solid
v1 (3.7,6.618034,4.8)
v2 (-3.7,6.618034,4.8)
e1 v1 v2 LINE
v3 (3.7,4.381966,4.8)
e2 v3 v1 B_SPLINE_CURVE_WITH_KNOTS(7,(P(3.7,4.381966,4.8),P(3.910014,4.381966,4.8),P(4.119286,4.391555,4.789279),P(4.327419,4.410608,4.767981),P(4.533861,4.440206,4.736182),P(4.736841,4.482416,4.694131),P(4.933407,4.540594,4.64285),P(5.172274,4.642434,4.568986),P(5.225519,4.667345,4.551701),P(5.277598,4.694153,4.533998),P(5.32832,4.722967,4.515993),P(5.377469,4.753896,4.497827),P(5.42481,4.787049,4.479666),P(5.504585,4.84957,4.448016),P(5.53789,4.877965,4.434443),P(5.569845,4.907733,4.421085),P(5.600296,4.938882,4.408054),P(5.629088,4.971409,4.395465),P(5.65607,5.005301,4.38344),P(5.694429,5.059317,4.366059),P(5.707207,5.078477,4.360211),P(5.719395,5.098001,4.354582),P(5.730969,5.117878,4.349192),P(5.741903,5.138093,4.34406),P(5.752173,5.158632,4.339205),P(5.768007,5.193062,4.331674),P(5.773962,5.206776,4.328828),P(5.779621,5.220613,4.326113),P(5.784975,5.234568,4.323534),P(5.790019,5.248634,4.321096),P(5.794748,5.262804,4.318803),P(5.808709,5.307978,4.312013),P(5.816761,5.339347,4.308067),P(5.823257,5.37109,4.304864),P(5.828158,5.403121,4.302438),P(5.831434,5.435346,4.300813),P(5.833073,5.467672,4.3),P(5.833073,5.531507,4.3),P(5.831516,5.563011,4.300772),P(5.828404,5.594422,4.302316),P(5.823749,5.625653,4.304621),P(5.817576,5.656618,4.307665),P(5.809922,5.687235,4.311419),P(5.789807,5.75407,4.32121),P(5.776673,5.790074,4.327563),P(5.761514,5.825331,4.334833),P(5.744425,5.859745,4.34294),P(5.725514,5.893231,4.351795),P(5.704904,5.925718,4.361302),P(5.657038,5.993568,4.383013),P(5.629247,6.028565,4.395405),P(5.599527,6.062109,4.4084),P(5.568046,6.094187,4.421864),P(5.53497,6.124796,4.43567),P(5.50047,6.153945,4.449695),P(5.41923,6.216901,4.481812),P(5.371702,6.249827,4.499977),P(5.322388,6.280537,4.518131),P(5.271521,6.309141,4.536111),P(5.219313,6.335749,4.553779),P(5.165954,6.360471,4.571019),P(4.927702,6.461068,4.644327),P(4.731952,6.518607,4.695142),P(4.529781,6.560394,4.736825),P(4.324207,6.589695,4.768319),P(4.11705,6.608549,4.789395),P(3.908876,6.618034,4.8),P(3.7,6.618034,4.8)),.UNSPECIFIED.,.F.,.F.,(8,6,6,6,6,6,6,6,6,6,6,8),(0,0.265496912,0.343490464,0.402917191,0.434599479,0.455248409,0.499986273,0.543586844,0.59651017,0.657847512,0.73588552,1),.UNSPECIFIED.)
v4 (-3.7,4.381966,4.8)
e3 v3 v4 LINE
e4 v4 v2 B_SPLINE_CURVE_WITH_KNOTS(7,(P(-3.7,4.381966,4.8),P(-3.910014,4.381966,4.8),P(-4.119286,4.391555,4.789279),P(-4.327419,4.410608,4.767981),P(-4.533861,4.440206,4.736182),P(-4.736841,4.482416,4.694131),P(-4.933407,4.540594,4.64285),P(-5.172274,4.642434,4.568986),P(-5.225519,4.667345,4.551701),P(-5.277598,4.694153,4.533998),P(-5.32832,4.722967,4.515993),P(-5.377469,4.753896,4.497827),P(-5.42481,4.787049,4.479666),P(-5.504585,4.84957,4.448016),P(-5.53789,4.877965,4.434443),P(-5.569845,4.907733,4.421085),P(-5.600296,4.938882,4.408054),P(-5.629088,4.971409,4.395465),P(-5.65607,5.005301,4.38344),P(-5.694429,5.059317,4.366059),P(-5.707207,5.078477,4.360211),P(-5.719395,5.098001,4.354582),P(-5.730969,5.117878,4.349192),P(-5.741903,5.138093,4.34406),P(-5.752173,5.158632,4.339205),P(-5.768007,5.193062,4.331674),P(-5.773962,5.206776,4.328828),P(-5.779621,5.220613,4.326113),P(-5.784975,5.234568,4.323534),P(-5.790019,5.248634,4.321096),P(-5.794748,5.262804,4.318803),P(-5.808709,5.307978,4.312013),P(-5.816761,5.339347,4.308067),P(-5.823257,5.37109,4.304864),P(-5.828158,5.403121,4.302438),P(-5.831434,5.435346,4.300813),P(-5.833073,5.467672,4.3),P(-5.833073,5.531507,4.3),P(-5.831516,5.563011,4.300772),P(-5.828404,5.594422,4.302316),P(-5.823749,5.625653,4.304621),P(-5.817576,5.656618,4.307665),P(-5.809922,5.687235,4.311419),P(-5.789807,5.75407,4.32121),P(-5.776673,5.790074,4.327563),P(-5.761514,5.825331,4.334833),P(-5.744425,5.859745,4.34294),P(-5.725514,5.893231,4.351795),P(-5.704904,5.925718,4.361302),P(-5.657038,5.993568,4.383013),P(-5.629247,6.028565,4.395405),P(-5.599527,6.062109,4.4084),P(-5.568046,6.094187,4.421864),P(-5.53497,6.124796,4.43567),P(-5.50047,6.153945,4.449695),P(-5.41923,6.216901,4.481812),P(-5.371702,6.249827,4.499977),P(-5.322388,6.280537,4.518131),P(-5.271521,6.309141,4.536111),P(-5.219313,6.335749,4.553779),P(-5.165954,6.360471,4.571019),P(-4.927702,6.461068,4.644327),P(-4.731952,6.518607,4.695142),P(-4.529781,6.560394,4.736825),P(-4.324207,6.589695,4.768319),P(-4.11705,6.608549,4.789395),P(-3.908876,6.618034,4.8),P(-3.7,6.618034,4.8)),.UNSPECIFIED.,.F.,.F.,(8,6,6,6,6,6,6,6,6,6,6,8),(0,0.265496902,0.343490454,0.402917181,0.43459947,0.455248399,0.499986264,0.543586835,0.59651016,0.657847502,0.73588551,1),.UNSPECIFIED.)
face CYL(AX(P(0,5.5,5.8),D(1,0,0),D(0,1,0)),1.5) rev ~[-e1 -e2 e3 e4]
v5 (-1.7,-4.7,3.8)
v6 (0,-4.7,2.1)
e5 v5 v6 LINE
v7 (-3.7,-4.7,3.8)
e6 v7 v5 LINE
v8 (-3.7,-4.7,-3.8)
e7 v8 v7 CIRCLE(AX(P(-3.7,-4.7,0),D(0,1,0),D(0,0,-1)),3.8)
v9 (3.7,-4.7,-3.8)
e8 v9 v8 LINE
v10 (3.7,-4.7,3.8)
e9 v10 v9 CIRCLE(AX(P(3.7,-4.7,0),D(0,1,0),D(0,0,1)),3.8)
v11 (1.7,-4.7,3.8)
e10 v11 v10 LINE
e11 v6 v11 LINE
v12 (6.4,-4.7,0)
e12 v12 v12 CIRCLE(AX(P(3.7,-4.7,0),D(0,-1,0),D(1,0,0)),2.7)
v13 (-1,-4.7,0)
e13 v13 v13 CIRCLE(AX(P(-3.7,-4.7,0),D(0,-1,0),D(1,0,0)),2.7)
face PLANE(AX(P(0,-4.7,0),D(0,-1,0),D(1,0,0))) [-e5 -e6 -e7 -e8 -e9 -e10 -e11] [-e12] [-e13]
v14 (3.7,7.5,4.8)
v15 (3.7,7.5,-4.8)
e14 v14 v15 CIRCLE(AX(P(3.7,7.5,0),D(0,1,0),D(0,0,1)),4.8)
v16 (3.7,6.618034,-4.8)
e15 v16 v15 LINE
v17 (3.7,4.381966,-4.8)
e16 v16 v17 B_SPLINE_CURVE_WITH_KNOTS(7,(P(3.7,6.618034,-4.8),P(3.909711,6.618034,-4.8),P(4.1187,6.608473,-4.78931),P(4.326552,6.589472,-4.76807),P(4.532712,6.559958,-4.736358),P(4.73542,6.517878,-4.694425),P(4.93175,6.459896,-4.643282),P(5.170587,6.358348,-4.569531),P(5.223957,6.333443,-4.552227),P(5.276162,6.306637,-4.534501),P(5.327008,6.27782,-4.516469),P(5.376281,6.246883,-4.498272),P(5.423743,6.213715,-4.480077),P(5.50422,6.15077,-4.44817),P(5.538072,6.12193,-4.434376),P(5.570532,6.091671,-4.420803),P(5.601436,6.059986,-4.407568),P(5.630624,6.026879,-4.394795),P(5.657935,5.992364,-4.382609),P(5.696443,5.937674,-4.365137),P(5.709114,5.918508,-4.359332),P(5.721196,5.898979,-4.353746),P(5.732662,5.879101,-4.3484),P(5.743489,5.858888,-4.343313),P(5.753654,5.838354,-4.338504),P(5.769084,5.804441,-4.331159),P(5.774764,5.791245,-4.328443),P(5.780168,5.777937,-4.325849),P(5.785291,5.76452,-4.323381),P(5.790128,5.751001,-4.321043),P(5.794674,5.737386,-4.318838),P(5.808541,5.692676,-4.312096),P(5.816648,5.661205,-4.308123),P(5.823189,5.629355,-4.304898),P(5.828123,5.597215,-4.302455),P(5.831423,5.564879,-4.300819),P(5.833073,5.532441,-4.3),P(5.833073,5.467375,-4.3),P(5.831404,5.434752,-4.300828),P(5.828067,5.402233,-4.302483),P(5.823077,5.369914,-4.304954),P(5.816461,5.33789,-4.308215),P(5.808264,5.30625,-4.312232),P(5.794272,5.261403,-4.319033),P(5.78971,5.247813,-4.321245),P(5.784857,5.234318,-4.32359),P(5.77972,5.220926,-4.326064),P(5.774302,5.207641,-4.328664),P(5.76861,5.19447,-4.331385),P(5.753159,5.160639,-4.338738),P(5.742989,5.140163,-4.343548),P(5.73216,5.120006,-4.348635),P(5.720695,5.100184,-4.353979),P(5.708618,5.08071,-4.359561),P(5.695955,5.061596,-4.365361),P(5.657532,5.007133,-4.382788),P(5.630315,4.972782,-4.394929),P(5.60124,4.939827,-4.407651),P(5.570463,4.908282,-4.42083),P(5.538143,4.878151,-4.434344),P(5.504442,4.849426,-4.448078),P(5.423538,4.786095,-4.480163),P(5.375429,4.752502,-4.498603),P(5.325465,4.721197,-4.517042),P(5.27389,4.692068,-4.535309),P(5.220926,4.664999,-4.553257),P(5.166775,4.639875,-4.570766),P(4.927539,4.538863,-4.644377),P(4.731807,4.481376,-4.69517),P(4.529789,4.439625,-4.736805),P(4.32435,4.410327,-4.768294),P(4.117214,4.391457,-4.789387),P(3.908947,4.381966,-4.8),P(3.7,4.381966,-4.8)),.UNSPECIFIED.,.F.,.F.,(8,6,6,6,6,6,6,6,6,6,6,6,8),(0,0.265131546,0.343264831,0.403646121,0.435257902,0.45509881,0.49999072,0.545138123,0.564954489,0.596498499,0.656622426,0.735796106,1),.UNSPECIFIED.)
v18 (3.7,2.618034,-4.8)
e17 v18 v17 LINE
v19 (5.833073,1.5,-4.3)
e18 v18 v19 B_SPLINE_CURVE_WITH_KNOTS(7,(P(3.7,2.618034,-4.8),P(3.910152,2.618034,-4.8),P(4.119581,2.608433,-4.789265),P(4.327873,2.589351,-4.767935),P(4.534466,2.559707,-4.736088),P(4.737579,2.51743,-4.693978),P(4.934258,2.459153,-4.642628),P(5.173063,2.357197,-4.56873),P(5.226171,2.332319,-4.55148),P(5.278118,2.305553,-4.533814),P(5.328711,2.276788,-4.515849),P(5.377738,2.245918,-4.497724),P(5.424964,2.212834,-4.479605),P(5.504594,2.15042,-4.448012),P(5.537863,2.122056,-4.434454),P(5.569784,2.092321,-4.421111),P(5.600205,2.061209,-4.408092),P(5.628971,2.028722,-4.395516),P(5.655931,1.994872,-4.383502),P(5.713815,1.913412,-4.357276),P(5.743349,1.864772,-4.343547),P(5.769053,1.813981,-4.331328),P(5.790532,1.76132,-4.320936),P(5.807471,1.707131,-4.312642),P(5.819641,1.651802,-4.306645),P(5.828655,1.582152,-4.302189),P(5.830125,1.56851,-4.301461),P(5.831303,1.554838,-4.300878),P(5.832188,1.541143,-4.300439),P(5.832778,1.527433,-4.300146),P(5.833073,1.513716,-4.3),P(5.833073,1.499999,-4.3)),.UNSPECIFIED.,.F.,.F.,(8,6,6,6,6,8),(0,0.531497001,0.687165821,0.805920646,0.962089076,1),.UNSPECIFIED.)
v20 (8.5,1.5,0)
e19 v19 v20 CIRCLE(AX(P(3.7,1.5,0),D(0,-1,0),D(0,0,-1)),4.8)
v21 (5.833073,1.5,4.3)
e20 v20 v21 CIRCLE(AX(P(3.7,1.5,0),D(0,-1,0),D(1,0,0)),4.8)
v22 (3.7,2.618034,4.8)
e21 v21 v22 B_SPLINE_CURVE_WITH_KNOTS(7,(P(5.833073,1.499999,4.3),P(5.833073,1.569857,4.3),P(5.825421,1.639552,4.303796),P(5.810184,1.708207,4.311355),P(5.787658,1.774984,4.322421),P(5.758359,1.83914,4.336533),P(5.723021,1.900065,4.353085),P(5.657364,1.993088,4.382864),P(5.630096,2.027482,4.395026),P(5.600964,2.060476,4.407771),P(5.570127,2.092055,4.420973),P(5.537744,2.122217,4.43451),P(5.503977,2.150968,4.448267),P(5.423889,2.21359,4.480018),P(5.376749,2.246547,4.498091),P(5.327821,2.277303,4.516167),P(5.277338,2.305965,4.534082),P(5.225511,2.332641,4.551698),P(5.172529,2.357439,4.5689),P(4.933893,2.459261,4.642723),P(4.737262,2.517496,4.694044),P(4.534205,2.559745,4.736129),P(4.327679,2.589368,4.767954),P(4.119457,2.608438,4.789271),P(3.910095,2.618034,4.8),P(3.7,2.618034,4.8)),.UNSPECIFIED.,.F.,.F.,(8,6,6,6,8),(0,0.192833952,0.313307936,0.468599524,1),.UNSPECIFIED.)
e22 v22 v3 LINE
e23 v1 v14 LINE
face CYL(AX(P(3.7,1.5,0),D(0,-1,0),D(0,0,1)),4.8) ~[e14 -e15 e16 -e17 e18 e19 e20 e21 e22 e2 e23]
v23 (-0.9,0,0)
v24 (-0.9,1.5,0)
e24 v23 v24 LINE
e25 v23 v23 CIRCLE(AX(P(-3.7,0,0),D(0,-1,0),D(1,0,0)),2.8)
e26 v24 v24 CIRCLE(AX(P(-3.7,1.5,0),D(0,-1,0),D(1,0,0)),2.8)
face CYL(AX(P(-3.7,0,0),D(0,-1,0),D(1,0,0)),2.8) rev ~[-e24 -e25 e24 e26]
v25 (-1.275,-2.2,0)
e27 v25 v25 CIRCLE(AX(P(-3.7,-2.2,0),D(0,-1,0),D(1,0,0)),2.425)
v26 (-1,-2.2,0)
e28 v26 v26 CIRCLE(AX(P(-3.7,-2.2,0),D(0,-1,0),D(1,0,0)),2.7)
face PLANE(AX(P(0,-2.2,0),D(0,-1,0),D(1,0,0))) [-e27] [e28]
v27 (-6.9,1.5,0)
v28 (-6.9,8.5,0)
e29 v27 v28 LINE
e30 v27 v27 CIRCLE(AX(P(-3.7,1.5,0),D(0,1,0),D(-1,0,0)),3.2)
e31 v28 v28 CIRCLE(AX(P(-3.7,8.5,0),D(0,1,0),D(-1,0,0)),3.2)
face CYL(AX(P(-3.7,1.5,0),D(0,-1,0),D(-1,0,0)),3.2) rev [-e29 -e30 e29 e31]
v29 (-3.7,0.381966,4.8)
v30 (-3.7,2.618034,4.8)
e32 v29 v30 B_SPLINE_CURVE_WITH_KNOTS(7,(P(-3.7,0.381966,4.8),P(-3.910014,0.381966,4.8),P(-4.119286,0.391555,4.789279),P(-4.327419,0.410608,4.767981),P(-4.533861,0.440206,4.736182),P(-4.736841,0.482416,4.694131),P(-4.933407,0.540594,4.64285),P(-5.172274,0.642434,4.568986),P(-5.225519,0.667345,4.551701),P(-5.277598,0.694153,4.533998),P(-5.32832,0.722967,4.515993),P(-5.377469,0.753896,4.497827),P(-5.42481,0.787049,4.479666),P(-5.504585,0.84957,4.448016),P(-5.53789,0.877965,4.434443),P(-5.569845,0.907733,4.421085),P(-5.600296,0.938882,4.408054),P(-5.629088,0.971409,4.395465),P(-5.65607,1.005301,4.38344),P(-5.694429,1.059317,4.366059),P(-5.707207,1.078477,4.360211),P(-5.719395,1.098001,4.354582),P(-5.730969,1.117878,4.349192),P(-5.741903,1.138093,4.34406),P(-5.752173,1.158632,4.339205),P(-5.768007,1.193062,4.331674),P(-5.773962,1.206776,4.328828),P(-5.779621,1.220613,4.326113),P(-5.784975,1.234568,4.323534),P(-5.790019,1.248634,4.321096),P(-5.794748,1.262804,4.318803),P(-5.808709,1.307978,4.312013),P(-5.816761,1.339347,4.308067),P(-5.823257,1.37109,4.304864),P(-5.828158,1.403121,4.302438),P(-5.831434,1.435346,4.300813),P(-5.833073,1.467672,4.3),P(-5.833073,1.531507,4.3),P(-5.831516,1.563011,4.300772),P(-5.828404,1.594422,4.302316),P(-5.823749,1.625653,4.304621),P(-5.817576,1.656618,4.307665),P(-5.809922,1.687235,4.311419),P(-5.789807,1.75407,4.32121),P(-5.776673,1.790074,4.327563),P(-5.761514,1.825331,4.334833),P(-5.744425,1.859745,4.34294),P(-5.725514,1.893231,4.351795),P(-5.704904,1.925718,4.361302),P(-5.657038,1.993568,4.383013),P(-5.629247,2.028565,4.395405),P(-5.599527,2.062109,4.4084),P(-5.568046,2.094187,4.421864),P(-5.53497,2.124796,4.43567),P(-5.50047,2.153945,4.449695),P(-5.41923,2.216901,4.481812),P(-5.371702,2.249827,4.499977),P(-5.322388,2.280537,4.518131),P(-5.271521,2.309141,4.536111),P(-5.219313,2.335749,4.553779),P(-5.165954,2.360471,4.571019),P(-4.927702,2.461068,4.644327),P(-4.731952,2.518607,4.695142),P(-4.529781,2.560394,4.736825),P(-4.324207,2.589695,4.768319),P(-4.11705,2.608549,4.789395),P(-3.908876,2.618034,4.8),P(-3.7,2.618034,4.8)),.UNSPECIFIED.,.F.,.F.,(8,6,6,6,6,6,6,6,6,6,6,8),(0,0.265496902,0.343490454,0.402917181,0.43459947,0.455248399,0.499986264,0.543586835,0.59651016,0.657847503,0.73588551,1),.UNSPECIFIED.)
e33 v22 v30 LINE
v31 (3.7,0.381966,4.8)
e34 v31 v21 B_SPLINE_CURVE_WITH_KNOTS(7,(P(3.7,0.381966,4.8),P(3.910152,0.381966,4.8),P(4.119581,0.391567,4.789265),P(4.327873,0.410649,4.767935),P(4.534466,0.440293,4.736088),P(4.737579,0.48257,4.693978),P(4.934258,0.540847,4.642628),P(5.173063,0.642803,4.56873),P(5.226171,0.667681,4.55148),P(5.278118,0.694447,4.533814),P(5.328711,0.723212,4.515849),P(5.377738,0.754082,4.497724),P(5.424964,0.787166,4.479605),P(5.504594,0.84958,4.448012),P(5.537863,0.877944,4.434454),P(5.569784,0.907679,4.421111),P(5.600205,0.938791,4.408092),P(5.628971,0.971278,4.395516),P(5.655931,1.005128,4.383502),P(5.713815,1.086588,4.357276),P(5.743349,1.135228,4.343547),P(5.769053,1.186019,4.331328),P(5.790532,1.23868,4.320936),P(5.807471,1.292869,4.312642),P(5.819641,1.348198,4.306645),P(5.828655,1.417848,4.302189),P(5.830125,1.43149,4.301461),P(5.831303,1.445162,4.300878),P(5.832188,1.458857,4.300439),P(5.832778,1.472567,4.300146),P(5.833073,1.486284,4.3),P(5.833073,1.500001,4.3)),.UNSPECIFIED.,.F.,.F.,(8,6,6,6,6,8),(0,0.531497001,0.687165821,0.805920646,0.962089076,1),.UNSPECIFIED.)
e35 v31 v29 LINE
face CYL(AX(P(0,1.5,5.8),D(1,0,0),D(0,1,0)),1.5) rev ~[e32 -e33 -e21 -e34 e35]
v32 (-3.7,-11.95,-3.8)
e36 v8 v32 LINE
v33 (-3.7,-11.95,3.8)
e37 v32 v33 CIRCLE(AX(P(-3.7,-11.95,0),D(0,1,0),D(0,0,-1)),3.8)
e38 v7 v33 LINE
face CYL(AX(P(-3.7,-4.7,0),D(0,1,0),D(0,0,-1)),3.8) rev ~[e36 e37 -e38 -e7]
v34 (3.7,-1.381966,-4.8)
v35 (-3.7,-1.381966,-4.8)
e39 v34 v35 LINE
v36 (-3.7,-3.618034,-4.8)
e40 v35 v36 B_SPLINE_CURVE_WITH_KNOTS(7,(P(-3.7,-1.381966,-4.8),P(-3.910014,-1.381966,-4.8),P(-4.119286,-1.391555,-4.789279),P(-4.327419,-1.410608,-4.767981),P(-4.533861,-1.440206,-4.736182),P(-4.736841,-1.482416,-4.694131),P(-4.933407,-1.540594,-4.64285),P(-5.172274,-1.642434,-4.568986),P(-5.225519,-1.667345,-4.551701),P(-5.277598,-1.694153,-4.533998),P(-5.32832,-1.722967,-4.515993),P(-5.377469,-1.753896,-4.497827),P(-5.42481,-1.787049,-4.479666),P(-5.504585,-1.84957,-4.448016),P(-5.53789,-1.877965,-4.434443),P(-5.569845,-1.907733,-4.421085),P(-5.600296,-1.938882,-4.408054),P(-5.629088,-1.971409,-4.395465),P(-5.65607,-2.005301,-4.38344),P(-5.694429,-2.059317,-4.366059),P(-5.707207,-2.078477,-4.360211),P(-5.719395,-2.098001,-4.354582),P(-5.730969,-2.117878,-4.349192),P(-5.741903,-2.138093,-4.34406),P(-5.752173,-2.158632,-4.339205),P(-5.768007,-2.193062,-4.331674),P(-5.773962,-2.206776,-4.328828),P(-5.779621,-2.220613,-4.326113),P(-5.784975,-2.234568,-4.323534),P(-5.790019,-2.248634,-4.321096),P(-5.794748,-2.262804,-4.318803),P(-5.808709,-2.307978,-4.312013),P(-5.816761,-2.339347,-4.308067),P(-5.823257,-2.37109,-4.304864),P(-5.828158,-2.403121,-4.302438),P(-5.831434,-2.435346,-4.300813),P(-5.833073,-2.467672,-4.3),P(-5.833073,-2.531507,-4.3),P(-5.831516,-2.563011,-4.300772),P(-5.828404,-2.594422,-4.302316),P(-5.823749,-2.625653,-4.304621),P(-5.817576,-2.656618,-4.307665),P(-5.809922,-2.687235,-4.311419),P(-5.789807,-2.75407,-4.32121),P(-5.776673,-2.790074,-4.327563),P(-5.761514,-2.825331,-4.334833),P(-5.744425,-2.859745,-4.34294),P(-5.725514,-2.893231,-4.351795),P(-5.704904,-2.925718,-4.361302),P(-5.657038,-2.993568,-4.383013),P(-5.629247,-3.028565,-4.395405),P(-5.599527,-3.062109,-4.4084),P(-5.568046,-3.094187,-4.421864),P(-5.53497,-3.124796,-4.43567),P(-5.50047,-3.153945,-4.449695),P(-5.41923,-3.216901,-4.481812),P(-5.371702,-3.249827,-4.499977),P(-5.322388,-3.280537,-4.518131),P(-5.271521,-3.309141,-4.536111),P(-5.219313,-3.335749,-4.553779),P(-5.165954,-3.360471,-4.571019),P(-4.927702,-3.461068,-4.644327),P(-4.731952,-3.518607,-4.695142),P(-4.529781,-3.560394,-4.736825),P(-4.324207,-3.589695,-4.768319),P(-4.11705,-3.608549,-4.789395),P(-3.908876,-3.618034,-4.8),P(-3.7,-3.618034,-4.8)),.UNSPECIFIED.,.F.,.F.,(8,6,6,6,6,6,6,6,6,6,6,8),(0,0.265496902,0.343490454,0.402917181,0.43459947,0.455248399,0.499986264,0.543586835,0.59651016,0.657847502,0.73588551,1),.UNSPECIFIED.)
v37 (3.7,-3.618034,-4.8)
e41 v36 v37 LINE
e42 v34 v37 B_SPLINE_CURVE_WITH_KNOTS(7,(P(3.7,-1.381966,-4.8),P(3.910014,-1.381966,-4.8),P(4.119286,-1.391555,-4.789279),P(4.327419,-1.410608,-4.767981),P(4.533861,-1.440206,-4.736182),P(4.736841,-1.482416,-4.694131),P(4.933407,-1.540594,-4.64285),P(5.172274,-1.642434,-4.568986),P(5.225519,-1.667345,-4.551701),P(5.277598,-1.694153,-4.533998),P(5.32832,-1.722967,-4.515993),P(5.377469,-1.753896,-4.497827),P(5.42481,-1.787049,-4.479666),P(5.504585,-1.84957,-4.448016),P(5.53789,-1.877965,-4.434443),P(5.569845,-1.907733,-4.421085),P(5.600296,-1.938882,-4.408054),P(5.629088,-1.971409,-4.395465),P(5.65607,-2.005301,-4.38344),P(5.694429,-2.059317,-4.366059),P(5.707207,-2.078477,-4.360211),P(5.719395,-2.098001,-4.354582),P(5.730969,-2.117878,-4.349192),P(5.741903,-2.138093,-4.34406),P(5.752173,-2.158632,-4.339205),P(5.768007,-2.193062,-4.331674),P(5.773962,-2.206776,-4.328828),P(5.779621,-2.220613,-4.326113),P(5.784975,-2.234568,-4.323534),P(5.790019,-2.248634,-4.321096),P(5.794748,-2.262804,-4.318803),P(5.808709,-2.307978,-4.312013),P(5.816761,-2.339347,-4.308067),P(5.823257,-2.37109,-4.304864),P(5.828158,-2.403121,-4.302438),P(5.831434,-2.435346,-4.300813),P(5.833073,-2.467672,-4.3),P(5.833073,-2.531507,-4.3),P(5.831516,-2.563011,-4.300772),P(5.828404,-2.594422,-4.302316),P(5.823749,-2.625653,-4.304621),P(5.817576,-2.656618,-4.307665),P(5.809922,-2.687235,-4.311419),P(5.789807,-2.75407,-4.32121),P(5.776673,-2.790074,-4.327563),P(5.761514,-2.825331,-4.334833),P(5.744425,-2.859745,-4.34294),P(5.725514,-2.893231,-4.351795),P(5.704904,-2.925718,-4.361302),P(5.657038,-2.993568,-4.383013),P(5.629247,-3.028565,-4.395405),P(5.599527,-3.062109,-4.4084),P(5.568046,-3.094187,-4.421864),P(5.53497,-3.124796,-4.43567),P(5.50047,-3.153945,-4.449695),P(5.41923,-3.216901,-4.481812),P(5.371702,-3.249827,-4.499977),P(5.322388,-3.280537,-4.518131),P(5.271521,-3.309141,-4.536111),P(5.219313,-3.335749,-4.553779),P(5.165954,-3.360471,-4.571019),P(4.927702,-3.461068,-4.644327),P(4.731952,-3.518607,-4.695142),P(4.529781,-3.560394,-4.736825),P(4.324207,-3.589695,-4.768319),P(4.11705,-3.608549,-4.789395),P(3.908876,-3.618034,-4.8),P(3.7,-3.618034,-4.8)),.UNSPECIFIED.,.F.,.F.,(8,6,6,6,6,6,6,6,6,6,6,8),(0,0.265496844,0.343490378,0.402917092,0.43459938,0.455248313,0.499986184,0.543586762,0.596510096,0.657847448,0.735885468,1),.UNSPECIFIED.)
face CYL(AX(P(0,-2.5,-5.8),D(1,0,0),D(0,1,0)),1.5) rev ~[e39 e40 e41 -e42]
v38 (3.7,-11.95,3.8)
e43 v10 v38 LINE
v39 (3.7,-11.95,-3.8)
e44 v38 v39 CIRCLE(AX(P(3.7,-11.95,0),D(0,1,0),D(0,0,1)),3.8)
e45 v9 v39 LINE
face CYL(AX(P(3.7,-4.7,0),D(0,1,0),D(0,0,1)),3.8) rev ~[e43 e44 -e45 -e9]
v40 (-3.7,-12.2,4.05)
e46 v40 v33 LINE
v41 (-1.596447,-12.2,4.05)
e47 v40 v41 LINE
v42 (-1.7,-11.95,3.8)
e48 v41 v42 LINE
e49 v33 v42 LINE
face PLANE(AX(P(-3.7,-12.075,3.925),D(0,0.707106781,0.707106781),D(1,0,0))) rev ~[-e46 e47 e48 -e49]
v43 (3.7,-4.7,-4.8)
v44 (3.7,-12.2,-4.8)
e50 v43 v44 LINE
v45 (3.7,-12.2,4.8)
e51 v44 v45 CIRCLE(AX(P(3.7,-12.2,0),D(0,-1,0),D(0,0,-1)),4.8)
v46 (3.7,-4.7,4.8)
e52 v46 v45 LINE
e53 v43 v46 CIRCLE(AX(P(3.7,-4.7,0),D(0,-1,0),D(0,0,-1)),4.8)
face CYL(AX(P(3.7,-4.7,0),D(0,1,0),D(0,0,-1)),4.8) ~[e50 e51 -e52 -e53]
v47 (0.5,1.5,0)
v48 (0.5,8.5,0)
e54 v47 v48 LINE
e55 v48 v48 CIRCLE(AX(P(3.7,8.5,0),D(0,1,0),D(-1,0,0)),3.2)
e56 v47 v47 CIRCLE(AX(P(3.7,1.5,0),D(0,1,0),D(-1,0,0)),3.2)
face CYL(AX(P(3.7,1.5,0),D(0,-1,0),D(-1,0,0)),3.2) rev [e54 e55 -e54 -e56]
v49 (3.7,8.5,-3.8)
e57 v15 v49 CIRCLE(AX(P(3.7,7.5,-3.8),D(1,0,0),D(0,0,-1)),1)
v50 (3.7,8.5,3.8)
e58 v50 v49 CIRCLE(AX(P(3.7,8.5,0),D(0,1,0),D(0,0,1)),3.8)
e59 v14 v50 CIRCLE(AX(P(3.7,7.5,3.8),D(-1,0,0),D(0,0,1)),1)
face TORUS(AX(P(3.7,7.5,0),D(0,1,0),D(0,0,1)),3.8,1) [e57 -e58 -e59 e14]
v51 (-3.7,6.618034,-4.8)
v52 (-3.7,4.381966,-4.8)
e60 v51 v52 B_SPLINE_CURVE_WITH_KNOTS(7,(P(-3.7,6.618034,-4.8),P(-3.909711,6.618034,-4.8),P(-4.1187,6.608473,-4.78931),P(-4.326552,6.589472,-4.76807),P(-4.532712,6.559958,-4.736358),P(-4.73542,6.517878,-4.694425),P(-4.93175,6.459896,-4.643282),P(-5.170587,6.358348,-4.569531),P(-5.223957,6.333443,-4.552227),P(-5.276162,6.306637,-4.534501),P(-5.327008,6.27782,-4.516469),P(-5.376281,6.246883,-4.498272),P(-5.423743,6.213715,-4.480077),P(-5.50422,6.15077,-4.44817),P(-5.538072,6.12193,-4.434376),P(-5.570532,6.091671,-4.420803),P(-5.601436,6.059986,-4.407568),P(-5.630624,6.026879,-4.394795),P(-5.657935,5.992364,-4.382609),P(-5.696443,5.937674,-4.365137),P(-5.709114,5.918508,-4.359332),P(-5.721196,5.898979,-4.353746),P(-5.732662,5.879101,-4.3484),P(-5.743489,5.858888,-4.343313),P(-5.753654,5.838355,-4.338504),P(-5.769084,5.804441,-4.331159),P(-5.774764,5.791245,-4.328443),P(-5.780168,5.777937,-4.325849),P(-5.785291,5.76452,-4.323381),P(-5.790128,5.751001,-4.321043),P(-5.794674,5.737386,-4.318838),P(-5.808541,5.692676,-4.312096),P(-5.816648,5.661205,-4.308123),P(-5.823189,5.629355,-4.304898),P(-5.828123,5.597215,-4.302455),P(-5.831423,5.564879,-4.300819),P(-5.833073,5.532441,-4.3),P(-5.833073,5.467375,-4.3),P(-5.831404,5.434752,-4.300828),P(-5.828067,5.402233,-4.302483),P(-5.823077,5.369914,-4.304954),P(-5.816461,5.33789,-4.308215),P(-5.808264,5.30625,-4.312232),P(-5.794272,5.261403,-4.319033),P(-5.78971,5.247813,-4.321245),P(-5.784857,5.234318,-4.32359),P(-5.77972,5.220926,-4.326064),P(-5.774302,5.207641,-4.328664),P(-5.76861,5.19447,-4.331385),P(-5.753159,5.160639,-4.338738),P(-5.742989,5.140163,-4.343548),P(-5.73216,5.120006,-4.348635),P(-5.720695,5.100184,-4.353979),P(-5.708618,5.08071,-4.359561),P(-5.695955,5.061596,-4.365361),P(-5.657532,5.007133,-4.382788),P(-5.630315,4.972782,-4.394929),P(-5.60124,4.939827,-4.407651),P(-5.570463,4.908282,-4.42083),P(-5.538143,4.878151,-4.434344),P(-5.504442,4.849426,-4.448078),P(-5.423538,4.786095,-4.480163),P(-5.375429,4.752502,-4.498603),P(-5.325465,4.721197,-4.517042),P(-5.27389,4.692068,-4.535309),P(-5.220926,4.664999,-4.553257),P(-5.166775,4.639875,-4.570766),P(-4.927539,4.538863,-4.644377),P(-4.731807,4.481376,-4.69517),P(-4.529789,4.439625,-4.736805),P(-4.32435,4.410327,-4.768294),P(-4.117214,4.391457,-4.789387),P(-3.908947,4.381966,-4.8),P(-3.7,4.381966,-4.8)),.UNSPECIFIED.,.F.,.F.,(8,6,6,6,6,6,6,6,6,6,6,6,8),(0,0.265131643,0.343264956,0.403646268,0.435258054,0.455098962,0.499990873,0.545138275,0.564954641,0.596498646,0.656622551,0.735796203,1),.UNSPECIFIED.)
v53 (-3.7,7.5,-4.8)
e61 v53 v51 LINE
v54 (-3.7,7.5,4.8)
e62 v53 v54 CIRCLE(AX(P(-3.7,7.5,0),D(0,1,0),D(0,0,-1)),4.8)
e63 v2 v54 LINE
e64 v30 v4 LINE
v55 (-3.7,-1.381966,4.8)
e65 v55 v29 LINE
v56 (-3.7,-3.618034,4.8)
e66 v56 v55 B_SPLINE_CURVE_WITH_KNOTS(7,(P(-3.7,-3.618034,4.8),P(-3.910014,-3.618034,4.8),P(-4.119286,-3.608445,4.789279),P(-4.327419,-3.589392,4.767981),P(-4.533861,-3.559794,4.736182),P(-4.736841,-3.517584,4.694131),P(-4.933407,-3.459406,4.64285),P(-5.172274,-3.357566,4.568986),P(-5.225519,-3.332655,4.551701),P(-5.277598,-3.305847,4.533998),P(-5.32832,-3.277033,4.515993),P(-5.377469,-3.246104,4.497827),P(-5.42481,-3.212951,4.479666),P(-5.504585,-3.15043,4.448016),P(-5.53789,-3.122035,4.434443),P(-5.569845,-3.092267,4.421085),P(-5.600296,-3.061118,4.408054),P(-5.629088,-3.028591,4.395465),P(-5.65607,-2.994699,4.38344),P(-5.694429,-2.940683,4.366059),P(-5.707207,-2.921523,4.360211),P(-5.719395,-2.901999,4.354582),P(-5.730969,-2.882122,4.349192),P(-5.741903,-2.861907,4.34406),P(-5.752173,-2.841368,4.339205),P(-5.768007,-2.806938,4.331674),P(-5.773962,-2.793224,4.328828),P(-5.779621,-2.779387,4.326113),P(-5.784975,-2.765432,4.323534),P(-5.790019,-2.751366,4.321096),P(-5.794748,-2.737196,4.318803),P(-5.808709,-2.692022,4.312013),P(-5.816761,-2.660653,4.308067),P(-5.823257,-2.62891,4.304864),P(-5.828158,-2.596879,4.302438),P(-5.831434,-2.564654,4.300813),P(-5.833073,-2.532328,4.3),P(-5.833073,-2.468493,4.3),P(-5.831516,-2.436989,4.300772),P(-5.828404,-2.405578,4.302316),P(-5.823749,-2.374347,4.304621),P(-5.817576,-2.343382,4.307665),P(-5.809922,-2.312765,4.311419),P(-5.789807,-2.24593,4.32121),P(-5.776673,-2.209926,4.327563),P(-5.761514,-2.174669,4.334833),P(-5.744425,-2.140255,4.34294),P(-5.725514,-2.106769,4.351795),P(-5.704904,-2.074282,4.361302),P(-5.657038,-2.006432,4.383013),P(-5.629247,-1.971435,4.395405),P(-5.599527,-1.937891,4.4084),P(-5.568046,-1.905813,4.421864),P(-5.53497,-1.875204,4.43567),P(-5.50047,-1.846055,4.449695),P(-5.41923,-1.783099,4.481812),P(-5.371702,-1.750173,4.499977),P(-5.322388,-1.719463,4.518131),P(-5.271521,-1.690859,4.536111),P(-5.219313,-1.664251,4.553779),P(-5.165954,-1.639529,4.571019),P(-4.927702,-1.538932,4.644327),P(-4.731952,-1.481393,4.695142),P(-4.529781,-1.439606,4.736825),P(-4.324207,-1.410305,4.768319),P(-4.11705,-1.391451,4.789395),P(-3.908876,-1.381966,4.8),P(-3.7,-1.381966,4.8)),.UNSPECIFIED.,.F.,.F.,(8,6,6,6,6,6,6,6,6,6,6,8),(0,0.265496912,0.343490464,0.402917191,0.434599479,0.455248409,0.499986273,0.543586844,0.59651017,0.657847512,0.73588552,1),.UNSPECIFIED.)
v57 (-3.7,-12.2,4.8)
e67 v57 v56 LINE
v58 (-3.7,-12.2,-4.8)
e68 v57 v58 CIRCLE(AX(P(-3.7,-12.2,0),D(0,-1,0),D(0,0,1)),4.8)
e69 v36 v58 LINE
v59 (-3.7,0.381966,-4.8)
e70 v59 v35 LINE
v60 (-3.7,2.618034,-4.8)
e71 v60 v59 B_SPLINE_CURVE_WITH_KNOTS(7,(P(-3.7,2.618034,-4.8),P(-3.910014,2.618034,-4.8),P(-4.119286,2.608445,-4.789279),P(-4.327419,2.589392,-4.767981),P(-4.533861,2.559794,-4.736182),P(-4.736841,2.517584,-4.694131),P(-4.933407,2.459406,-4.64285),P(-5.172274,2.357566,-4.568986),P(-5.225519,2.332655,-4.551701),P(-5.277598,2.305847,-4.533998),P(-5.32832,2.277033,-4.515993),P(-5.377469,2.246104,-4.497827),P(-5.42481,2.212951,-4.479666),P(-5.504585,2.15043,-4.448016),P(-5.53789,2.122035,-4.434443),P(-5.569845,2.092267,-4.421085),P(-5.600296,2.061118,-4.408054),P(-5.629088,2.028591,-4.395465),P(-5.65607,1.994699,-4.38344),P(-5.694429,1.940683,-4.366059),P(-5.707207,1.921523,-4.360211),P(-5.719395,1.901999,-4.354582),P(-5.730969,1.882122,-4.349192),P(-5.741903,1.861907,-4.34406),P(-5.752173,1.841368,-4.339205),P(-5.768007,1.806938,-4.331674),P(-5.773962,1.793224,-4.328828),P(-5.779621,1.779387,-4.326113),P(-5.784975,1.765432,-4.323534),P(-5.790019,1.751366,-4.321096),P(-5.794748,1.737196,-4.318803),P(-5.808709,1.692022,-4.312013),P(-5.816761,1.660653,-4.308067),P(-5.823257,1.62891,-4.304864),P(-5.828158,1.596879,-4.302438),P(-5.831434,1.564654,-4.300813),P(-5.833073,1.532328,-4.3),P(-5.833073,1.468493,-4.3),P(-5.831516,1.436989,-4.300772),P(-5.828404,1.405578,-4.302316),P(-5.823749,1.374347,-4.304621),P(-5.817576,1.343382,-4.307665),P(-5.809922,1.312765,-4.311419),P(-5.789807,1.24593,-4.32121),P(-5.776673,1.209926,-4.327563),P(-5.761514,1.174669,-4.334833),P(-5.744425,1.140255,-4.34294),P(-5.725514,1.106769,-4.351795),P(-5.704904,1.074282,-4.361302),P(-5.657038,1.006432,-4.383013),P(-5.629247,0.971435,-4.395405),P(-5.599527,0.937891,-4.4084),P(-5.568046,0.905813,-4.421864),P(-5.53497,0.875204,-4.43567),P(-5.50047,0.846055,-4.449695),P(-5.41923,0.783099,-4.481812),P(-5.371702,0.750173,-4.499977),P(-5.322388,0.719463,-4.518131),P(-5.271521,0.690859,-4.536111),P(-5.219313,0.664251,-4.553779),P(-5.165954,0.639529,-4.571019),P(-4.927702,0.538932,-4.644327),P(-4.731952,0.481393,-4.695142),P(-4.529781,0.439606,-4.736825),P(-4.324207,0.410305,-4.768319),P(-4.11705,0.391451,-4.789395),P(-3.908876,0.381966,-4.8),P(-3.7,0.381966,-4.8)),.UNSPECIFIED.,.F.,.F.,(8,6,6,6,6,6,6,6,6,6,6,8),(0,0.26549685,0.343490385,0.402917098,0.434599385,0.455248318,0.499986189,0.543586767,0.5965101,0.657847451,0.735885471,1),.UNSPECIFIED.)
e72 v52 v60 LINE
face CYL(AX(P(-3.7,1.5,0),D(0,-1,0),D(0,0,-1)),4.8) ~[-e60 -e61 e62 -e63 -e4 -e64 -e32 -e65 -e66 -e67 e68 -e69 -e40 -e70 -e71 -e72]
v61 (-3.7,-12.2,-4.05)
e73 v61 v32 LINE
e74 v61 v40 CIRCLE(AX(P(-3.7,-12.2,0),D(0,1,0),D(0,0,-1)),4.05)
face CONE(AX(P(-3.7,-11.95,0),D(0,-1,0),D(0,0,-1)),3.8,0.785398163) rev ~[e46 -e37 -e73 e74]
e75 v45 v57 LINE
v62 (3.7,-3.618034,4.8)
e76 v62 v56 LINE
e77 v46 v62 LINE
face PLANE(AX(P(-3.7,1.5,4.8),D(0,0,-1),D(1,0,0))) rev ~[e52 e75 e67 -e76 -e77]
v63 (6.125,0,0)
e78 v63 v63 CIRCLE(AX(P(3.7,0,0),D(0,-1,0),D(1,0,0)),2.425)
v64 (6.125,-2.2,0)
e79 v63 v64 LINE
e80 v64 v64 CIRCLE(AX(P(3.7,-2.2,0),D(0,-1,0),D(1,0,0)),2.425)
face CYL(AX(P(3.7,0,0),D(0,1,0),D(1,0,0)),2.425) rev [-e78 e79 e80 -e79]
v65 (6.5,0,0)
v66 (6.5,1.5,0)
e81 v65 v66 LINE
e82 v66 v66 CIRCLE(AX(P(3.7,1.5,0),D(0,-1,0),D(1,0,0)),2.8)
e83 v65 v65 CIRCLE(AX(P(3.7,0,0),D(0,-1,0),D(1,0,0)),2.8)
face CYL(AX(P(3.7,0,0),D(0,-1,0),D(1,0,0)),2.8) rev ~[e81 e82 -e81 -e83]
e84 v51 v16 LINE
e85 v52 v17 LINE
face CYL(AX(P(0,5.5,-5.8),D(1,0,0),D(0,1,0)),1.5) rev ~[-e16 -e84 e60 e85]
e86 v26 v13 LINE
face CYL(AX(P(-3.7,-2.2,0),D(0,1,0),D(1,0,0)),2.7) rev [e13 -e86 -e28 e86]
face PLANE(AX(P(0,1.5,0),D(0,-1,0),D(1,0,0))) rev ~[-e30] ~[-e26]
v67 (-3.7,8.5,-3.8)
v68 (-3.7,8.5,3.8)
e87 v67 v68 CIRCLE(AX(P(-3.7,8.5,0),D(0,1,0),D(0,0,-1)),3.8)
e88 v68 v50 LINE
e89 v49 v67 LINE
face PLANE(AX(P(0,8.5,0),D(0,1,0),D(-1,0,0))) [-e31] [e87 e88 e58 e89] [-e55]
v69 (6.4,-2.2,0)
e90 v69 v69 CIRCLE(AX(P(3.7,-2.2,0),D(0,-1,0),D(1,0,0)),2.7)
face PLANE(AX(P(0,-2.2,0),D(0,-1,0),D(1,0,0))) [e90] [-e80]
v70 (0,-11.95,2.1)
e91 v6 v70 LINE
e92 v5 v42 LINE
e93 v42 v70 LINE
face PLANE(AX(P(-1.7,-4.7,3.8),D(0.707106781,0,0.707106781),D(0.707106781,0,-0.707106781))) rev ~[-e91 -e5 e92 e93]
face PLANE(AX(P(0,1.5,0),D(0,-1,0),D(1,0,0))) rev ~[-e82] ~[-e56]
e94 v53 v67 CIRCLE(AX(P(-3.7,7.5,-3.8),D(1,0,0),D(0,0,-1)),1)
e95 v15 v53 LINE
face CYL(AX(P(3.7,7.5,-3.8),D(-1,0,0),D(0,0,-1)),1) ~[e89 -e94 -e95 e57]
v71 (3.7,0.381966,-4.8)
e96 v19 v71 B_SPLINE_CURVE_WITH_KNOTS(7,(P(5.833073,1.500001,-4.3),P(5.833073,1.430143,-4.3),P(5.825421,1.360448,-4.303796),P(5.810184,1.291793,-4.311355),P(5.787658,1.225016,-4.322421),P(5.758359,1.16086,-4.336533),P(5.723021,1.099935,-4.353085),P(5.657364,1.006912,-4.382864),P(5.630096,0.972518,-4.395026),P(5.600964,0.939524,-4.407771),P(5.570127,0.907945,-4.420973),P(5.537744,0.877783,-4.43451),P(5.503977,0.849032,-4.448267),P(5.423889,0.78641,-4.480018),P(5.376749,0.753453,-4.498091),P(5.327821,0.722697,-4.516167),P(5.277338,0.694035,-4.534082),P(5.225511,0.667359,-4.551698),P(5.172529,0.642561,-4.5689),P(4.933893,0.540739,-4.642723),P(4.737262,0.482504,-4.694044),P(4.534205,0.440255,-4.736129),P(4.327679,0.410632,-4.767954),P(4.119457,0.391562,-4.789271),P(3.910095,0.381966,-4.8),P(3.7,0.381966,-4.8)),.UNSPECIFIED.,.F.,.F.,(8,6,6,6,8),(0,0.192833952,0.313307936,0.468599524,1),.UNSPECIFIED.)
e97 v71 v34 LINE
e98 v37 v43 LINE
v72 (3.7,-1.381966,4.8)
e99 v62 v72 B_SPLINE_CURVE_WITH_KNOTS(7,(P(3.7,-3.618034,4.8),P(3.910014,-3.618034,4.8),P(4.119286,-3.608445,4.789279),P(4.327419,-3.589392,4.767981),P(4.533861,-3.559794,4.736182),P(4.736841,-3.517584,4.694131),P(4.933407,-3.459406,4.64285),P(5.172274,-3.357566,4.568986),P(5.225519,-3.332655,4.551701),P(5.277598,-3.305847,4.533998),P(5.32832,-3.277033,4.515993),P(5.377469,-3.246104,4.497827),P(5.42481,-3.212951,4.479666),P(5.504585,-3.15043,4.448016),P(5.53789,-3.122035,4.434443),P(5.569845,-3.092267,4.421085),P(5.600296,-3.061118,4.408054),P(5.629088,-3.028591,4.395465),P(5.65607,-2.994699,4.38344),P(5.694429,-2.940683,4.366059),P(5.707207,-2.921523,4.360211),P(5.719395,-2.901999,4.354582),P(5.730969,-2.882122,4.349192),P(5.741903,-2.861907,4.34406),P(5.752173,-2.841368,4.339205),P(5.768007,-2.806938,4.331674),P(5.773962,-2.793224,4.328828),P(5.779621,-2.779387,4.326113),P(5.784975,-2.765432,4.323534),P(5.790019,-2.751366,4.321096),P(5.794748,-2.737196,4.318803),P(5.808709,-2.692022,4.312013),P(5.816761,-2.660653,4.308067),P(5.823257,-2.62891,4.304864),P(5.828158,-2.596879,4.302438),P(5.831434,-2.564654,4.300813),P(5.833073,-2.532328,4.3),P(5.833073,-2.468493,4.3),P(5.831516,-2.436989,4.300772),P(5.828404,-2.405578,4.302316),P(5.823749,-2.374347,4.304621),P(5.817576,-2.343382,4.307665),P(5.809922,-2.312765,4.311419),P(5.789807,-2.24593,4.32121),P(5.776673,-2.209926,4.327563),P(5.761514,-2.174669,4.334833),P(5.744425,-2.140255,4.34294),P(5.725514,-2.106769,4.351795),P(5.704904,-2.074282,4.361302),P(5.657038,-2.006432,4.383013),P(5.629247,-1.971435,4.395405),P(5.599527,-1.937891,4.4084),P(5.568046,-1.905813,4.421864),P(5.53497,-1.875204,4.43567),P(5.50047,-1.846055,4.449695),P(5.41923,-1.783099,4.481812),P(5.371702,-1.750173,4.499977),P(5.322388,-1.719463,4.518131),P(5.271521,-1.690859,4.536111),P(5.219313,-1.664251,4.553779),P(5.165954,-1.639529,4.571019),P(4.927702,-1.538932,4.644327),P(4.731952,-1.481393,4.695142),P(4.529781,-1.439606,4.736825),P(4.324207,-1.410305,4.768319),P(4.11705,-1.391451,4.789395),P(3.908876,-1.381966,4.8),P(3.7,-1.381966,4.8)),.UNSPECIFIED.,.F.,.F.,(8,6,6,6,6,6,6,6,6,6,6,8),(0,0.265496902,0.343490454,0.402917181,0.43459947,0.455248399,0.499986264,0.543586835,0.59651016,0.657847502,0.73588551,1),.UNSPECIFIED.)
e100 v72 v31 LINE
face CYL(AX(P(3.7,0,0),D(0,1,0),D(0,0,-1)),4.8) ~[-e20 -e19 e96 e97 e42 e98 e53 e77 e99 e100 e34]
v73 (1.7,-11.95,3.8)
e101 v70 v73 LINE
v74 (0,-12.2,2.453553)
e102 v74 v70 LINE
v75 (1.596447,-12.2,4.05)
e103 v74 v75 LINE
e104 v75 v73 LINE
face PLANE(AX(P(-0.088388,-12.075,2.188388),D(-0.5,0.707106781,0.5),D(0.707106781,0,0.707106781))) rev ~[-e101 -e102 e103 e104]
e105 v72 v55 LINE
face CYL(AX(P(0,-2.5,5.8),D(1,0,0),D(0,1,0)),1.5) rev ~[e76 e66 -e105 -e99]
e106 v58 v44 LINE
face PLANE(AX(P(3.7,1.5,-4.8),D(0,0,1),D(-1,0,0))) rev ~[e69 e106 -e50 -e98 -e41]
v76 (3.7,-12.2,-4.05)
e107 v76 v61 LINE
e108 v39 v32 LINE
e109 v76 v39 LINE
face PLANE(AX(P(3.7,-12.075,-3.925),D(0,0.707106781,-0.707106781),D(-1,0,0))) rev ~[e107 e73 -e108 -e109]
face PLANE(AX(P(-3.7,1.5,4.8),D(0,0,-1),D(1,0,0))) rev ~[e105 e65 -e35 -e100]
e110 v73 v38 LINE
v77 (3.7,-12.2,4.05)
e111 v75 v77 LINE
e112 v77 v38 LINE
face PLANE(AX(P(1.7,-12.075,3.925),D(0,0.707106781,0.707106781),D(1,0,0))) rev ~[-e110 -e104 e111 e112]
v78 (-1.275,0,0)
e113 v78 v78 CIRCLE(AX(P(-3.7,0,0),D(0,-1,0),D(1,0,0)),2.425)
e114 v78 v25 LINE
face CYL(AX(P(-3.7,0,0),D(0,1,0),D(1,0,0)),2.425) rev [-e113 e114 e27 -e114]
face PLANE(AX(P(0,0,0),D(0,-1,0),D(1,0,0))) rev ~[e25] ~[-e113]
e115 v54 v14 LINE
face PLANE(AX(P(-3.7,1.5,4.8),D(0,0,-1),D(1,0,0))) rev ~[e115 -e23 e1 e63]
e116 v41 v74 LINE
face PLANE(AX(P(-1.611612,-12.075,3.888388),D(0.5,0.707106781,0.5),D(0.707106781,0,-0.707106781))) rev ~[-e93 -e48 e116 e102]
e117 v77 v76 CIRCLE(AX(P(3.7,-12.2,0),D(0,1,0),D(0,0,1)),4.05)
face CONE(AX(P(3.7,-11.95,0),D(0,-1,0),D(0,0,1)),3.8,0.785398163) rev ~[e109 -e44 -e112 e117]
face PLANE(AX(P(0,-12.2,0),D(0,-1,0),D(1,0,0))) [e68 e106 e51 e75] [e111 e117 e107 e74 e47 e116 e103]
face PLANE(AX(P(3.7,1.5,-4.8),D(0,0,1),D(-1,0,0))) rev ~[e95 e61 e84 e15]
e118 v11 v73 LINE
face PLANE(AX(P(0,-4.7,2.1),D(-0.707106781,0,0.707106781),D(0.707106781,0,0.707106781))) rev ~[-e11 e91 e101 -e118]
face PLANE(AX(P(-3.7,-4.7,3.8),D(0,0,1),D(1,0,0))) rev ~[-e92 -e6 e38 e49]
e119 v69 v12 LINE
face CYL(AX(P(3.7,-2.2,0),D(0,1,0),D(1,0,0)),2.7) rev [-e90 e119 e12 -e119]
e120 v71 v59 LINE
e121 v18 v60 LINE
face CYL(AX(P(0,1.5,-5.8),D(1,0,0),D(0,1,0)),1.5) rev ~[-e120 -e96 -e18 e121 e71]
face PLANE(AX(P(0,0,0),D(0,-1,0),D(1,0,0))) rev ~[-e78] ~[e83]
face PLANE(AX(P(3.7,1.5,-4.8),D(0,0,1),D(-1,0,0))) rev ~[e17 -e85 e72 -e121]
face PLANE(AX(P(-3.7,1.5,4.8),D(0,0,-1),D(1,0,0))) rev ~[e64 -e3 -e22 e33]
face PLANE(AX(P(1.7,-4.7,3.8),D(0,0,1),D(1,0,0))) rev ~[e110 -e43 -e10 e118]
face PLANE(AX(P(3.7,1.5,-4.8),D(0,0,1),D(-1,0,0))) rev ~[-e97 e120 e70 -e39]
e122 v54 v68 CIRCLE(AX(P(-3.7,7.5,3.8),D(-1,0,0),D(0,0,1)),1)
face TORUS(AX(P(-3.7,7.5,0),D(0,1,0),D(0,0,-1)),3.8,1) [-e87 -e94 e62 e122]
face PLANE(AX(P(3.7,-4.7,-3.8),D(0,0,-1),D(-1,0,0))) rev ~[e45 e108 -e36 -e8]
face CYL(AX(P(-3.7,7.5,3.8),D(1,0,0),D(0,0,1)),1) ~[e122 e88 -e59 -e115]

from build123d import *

# Parameters (mm, degrees)
F0_R      = 2.8
F1_DEPTH  = 1.5
F0_R_2    = 2.425
F2_DEPTH  = 2.2
F3_R      = 2.7
F4_DEPTH  = 2.5
F6_DEPTH  = 7.5
F7_R      = 3.2
F8_DEPTH  = 7
F9_R      = 1
F10_SIZE  = 0.25
F11_R     = 1.5
F12_DEPTH = 8.5


with BuildPart() as f1:
    # F0 (on Front) → F1 (new body)
    with BuildSketch(Plane.XZ):
        with BuildLine():
            Line((0, 4.8), (-3.7, 4.8))
            ThreePointArc((-3.7, 4.8), (-7.0941125497, 3.3941125497), (-8.5, 0))
            ThreePointArc((-8.5, 0), (-7.0941125497, -3.3941125497), (-3.7, -4.8))
            Line((-3.7, -4.8), (0, -4.8))
            Line((0, -4.8), (3.7, -4.8))
            ThreePointArc((3.7, -4.8), (7.0941125497, -3.3941125497), (8.5, 0))
            ThreePointArc((8.5, 0), (7.0941125497, 3.3941125497), (3.7, 4.8))
            Line((3.7, 4.8), (0, 4.8))
        make_face()
        with Locations((-3.7, 0)):
            Circle(F0_R, mode=Mode.SUBTRACT)
        with Locations((3.7, 0)):
            Circle(F0_R, mode=Mode.SUBTRACT)
    extrude(amount=-F1_DEPTH)

    # F0 (on Front) → F2 (join)
    with BuildSketch(Plane.XZ):
        with BuildLine():
            Line((0, 4.8), (-3.7, 4.8))
            ThreePointArc((-3.7, 4.8), (-7.0941125497, 3.3941125497), (-8.5, 0))
            ThreePointArc((-8.5, 0), (-7.0941125497, -3.3941125497), (-3.7, -4.8))
            Line((-3.7, -4.8), (0, -4.8))
            Line((0, -4.8), (3.7, -4.8))
            ThreePointArc((3.7, -4.8), (7.0941125497, -3.3941125497), (8.5, 0))
            ThreePointArc((8.5, 0), (7.0941125497, 3.3941125497), (3.7, 4.8))
            Line((3.7, 4.8), (0, 4.8))
        make_face()
        with Locations((-3.7, 0)):
            Circle(F0_R, mode=Mode.SUBTRACT)
        with Locations((3.7, 0)):
            Circle(F0_R, mode=Mode.SUBTRACT)
        with Locations((-3.7, 0)):
            Circle(F0_R)
        with Locations((-3.7, 0)):
            Circle(F0_R_2, mode=Mode.SUBTRACT)
        with Locations((3.7, 0)):
            Circle(F0_R)
        with Locations((3.7, 0)):
            Circle(F0_R_2, mode=Mode.SUBTRACT)
    extrude(amount=F2_DEPTH)

    # F3 (on face) → F4 (join)
    with BuildSketch(Plane.XZ.offset(2.2)):
        with BuildLine():
            ThreePointArc((3.7, -4.8), (8.5, 0), (3.7, 4.8))
            Line((3.7, 4.8), (-3.7, 4.8))
            ThreePointArc((-3.7, 4.8), (-8.5, 0), (-3.7, -4.8))
            Line((-3.7, -4.8), (3.7, -4.8))
        make_face()
        with Locations((-3.7, 0)):
            Circle(F3_R, mode=Mode.SUBTRACT)
        with Locations((3.7, 0)):
            Circle(F3_R, mode=Mode.SUBTRACT)
    extrude(amount=F4_DEPTH)

    # F5 (on face) → F6 (join)
    with BuildSketch(Plane.XZ.offset(4.7)):
        with BuildLine():
            ThreePointArc((-3.7, 4.8), (-8.5, 0), (-3.7, -4.8))
            Line((-3.7, -4.8), (3.7, -4.8))
            ThreePointArc((3.7, -4.8), (8.5, 0), (3.7, 4.8))
            Line((3.7, 4.8), (-3.7, 4.8))
        make_face()
        with BuildLine():
            Line((0, -3.8), (-3.7, -3.8))
            ThreePointArc((-3.7, -3.8), (-7.5, 0), (-3.7, 3.8))
            Line((-3.7, 3.8), (-1.7, 3.8))
            Line((-1.7, 3.8), (0, 2.1))
            Line((0, 2.1), (1.7, 3.8))
            Line((1.7, 3.8), (3.7, 3.8))
            ThreePointArc((3.7, 3.8), (7.5, 0), (3.7, -3.8))
            Line((3.7, -3.8), (0, -3.8))
        make_face(mode=Mode.SUBTRACT)
    extrude(amount=F6_DEPTH)

    # F7 (on face) → F8 (join)
    with BuildSketch(Plane(origin=(0, 1.5, 0), x_dir=(-1, 0, 0), z_dir=(0, 1, 0))):
        with BuildLine():
            ThreePointArc((3.7, -4.8), (8.5, 0), (3.7, 4.8))
            Line((3.7, 4.8), (-3.7, 4.8))
            ThreePointArc((-3.7, 4.8), (-8.5, 0), (-3.7, -4.8))
            Line((-3.7, -4.8), (3.7, -4.8))
        make_face()
        with Locations((-3.7, 0)):
            Circle(F7_R, mode=Mode.SUBTRACT)
        with Locations((3.7, 0)):
            Circle(F7_R, mode=Mode.SUBTRACT)
    extrude(amount=F8_DEPTH)

    # F9
    f9_edges = [f1.edges().sort_by_distance(p)[0] for p in [
        (0, 8.5, 4.8),
    ]]
    fillet(f9_edges, radius=F9_R)

    # F10
    f10_edges = [f1.edges().sort_by_distance(p)[0] for p in [
        (-7.5, -12.2, 0),
        (-2.7, -12.2, 3.8),
        (-0.85, -12.2, 2.95),
        (0.85, -12.2, 2.95),
        (2.7, -12.2, 3.8),
        (7.5, -12.2, 0),
        (0, -12.2, -3.8),
    ]]
    chamfer(f10_edges, length=F10_SIZE)

    # F11 (on Right) → F12 (cut, symmetric)
    with BuildSketch(Plane.YZ):
        with Locations((-2.5, 5.8)):
            Circle(F11_R)
        with Locations((1.5, 5.8)):
            Circle(F11_R)
        with Locations((5.5, 5.8)):
            Circle(F11_R)
        with Locations((-2.5, -5.8)):
            Circle(F11_R)
        with Locations((1.5, -5.8)):
            Circle(F11_R)
        with Locations((5.5, -5.8)):
            Circle(F11_R)
    extrude(amount=F12_DEPTH, both=True, mode=Mode.SUBTRACT)


solid = f1.part
